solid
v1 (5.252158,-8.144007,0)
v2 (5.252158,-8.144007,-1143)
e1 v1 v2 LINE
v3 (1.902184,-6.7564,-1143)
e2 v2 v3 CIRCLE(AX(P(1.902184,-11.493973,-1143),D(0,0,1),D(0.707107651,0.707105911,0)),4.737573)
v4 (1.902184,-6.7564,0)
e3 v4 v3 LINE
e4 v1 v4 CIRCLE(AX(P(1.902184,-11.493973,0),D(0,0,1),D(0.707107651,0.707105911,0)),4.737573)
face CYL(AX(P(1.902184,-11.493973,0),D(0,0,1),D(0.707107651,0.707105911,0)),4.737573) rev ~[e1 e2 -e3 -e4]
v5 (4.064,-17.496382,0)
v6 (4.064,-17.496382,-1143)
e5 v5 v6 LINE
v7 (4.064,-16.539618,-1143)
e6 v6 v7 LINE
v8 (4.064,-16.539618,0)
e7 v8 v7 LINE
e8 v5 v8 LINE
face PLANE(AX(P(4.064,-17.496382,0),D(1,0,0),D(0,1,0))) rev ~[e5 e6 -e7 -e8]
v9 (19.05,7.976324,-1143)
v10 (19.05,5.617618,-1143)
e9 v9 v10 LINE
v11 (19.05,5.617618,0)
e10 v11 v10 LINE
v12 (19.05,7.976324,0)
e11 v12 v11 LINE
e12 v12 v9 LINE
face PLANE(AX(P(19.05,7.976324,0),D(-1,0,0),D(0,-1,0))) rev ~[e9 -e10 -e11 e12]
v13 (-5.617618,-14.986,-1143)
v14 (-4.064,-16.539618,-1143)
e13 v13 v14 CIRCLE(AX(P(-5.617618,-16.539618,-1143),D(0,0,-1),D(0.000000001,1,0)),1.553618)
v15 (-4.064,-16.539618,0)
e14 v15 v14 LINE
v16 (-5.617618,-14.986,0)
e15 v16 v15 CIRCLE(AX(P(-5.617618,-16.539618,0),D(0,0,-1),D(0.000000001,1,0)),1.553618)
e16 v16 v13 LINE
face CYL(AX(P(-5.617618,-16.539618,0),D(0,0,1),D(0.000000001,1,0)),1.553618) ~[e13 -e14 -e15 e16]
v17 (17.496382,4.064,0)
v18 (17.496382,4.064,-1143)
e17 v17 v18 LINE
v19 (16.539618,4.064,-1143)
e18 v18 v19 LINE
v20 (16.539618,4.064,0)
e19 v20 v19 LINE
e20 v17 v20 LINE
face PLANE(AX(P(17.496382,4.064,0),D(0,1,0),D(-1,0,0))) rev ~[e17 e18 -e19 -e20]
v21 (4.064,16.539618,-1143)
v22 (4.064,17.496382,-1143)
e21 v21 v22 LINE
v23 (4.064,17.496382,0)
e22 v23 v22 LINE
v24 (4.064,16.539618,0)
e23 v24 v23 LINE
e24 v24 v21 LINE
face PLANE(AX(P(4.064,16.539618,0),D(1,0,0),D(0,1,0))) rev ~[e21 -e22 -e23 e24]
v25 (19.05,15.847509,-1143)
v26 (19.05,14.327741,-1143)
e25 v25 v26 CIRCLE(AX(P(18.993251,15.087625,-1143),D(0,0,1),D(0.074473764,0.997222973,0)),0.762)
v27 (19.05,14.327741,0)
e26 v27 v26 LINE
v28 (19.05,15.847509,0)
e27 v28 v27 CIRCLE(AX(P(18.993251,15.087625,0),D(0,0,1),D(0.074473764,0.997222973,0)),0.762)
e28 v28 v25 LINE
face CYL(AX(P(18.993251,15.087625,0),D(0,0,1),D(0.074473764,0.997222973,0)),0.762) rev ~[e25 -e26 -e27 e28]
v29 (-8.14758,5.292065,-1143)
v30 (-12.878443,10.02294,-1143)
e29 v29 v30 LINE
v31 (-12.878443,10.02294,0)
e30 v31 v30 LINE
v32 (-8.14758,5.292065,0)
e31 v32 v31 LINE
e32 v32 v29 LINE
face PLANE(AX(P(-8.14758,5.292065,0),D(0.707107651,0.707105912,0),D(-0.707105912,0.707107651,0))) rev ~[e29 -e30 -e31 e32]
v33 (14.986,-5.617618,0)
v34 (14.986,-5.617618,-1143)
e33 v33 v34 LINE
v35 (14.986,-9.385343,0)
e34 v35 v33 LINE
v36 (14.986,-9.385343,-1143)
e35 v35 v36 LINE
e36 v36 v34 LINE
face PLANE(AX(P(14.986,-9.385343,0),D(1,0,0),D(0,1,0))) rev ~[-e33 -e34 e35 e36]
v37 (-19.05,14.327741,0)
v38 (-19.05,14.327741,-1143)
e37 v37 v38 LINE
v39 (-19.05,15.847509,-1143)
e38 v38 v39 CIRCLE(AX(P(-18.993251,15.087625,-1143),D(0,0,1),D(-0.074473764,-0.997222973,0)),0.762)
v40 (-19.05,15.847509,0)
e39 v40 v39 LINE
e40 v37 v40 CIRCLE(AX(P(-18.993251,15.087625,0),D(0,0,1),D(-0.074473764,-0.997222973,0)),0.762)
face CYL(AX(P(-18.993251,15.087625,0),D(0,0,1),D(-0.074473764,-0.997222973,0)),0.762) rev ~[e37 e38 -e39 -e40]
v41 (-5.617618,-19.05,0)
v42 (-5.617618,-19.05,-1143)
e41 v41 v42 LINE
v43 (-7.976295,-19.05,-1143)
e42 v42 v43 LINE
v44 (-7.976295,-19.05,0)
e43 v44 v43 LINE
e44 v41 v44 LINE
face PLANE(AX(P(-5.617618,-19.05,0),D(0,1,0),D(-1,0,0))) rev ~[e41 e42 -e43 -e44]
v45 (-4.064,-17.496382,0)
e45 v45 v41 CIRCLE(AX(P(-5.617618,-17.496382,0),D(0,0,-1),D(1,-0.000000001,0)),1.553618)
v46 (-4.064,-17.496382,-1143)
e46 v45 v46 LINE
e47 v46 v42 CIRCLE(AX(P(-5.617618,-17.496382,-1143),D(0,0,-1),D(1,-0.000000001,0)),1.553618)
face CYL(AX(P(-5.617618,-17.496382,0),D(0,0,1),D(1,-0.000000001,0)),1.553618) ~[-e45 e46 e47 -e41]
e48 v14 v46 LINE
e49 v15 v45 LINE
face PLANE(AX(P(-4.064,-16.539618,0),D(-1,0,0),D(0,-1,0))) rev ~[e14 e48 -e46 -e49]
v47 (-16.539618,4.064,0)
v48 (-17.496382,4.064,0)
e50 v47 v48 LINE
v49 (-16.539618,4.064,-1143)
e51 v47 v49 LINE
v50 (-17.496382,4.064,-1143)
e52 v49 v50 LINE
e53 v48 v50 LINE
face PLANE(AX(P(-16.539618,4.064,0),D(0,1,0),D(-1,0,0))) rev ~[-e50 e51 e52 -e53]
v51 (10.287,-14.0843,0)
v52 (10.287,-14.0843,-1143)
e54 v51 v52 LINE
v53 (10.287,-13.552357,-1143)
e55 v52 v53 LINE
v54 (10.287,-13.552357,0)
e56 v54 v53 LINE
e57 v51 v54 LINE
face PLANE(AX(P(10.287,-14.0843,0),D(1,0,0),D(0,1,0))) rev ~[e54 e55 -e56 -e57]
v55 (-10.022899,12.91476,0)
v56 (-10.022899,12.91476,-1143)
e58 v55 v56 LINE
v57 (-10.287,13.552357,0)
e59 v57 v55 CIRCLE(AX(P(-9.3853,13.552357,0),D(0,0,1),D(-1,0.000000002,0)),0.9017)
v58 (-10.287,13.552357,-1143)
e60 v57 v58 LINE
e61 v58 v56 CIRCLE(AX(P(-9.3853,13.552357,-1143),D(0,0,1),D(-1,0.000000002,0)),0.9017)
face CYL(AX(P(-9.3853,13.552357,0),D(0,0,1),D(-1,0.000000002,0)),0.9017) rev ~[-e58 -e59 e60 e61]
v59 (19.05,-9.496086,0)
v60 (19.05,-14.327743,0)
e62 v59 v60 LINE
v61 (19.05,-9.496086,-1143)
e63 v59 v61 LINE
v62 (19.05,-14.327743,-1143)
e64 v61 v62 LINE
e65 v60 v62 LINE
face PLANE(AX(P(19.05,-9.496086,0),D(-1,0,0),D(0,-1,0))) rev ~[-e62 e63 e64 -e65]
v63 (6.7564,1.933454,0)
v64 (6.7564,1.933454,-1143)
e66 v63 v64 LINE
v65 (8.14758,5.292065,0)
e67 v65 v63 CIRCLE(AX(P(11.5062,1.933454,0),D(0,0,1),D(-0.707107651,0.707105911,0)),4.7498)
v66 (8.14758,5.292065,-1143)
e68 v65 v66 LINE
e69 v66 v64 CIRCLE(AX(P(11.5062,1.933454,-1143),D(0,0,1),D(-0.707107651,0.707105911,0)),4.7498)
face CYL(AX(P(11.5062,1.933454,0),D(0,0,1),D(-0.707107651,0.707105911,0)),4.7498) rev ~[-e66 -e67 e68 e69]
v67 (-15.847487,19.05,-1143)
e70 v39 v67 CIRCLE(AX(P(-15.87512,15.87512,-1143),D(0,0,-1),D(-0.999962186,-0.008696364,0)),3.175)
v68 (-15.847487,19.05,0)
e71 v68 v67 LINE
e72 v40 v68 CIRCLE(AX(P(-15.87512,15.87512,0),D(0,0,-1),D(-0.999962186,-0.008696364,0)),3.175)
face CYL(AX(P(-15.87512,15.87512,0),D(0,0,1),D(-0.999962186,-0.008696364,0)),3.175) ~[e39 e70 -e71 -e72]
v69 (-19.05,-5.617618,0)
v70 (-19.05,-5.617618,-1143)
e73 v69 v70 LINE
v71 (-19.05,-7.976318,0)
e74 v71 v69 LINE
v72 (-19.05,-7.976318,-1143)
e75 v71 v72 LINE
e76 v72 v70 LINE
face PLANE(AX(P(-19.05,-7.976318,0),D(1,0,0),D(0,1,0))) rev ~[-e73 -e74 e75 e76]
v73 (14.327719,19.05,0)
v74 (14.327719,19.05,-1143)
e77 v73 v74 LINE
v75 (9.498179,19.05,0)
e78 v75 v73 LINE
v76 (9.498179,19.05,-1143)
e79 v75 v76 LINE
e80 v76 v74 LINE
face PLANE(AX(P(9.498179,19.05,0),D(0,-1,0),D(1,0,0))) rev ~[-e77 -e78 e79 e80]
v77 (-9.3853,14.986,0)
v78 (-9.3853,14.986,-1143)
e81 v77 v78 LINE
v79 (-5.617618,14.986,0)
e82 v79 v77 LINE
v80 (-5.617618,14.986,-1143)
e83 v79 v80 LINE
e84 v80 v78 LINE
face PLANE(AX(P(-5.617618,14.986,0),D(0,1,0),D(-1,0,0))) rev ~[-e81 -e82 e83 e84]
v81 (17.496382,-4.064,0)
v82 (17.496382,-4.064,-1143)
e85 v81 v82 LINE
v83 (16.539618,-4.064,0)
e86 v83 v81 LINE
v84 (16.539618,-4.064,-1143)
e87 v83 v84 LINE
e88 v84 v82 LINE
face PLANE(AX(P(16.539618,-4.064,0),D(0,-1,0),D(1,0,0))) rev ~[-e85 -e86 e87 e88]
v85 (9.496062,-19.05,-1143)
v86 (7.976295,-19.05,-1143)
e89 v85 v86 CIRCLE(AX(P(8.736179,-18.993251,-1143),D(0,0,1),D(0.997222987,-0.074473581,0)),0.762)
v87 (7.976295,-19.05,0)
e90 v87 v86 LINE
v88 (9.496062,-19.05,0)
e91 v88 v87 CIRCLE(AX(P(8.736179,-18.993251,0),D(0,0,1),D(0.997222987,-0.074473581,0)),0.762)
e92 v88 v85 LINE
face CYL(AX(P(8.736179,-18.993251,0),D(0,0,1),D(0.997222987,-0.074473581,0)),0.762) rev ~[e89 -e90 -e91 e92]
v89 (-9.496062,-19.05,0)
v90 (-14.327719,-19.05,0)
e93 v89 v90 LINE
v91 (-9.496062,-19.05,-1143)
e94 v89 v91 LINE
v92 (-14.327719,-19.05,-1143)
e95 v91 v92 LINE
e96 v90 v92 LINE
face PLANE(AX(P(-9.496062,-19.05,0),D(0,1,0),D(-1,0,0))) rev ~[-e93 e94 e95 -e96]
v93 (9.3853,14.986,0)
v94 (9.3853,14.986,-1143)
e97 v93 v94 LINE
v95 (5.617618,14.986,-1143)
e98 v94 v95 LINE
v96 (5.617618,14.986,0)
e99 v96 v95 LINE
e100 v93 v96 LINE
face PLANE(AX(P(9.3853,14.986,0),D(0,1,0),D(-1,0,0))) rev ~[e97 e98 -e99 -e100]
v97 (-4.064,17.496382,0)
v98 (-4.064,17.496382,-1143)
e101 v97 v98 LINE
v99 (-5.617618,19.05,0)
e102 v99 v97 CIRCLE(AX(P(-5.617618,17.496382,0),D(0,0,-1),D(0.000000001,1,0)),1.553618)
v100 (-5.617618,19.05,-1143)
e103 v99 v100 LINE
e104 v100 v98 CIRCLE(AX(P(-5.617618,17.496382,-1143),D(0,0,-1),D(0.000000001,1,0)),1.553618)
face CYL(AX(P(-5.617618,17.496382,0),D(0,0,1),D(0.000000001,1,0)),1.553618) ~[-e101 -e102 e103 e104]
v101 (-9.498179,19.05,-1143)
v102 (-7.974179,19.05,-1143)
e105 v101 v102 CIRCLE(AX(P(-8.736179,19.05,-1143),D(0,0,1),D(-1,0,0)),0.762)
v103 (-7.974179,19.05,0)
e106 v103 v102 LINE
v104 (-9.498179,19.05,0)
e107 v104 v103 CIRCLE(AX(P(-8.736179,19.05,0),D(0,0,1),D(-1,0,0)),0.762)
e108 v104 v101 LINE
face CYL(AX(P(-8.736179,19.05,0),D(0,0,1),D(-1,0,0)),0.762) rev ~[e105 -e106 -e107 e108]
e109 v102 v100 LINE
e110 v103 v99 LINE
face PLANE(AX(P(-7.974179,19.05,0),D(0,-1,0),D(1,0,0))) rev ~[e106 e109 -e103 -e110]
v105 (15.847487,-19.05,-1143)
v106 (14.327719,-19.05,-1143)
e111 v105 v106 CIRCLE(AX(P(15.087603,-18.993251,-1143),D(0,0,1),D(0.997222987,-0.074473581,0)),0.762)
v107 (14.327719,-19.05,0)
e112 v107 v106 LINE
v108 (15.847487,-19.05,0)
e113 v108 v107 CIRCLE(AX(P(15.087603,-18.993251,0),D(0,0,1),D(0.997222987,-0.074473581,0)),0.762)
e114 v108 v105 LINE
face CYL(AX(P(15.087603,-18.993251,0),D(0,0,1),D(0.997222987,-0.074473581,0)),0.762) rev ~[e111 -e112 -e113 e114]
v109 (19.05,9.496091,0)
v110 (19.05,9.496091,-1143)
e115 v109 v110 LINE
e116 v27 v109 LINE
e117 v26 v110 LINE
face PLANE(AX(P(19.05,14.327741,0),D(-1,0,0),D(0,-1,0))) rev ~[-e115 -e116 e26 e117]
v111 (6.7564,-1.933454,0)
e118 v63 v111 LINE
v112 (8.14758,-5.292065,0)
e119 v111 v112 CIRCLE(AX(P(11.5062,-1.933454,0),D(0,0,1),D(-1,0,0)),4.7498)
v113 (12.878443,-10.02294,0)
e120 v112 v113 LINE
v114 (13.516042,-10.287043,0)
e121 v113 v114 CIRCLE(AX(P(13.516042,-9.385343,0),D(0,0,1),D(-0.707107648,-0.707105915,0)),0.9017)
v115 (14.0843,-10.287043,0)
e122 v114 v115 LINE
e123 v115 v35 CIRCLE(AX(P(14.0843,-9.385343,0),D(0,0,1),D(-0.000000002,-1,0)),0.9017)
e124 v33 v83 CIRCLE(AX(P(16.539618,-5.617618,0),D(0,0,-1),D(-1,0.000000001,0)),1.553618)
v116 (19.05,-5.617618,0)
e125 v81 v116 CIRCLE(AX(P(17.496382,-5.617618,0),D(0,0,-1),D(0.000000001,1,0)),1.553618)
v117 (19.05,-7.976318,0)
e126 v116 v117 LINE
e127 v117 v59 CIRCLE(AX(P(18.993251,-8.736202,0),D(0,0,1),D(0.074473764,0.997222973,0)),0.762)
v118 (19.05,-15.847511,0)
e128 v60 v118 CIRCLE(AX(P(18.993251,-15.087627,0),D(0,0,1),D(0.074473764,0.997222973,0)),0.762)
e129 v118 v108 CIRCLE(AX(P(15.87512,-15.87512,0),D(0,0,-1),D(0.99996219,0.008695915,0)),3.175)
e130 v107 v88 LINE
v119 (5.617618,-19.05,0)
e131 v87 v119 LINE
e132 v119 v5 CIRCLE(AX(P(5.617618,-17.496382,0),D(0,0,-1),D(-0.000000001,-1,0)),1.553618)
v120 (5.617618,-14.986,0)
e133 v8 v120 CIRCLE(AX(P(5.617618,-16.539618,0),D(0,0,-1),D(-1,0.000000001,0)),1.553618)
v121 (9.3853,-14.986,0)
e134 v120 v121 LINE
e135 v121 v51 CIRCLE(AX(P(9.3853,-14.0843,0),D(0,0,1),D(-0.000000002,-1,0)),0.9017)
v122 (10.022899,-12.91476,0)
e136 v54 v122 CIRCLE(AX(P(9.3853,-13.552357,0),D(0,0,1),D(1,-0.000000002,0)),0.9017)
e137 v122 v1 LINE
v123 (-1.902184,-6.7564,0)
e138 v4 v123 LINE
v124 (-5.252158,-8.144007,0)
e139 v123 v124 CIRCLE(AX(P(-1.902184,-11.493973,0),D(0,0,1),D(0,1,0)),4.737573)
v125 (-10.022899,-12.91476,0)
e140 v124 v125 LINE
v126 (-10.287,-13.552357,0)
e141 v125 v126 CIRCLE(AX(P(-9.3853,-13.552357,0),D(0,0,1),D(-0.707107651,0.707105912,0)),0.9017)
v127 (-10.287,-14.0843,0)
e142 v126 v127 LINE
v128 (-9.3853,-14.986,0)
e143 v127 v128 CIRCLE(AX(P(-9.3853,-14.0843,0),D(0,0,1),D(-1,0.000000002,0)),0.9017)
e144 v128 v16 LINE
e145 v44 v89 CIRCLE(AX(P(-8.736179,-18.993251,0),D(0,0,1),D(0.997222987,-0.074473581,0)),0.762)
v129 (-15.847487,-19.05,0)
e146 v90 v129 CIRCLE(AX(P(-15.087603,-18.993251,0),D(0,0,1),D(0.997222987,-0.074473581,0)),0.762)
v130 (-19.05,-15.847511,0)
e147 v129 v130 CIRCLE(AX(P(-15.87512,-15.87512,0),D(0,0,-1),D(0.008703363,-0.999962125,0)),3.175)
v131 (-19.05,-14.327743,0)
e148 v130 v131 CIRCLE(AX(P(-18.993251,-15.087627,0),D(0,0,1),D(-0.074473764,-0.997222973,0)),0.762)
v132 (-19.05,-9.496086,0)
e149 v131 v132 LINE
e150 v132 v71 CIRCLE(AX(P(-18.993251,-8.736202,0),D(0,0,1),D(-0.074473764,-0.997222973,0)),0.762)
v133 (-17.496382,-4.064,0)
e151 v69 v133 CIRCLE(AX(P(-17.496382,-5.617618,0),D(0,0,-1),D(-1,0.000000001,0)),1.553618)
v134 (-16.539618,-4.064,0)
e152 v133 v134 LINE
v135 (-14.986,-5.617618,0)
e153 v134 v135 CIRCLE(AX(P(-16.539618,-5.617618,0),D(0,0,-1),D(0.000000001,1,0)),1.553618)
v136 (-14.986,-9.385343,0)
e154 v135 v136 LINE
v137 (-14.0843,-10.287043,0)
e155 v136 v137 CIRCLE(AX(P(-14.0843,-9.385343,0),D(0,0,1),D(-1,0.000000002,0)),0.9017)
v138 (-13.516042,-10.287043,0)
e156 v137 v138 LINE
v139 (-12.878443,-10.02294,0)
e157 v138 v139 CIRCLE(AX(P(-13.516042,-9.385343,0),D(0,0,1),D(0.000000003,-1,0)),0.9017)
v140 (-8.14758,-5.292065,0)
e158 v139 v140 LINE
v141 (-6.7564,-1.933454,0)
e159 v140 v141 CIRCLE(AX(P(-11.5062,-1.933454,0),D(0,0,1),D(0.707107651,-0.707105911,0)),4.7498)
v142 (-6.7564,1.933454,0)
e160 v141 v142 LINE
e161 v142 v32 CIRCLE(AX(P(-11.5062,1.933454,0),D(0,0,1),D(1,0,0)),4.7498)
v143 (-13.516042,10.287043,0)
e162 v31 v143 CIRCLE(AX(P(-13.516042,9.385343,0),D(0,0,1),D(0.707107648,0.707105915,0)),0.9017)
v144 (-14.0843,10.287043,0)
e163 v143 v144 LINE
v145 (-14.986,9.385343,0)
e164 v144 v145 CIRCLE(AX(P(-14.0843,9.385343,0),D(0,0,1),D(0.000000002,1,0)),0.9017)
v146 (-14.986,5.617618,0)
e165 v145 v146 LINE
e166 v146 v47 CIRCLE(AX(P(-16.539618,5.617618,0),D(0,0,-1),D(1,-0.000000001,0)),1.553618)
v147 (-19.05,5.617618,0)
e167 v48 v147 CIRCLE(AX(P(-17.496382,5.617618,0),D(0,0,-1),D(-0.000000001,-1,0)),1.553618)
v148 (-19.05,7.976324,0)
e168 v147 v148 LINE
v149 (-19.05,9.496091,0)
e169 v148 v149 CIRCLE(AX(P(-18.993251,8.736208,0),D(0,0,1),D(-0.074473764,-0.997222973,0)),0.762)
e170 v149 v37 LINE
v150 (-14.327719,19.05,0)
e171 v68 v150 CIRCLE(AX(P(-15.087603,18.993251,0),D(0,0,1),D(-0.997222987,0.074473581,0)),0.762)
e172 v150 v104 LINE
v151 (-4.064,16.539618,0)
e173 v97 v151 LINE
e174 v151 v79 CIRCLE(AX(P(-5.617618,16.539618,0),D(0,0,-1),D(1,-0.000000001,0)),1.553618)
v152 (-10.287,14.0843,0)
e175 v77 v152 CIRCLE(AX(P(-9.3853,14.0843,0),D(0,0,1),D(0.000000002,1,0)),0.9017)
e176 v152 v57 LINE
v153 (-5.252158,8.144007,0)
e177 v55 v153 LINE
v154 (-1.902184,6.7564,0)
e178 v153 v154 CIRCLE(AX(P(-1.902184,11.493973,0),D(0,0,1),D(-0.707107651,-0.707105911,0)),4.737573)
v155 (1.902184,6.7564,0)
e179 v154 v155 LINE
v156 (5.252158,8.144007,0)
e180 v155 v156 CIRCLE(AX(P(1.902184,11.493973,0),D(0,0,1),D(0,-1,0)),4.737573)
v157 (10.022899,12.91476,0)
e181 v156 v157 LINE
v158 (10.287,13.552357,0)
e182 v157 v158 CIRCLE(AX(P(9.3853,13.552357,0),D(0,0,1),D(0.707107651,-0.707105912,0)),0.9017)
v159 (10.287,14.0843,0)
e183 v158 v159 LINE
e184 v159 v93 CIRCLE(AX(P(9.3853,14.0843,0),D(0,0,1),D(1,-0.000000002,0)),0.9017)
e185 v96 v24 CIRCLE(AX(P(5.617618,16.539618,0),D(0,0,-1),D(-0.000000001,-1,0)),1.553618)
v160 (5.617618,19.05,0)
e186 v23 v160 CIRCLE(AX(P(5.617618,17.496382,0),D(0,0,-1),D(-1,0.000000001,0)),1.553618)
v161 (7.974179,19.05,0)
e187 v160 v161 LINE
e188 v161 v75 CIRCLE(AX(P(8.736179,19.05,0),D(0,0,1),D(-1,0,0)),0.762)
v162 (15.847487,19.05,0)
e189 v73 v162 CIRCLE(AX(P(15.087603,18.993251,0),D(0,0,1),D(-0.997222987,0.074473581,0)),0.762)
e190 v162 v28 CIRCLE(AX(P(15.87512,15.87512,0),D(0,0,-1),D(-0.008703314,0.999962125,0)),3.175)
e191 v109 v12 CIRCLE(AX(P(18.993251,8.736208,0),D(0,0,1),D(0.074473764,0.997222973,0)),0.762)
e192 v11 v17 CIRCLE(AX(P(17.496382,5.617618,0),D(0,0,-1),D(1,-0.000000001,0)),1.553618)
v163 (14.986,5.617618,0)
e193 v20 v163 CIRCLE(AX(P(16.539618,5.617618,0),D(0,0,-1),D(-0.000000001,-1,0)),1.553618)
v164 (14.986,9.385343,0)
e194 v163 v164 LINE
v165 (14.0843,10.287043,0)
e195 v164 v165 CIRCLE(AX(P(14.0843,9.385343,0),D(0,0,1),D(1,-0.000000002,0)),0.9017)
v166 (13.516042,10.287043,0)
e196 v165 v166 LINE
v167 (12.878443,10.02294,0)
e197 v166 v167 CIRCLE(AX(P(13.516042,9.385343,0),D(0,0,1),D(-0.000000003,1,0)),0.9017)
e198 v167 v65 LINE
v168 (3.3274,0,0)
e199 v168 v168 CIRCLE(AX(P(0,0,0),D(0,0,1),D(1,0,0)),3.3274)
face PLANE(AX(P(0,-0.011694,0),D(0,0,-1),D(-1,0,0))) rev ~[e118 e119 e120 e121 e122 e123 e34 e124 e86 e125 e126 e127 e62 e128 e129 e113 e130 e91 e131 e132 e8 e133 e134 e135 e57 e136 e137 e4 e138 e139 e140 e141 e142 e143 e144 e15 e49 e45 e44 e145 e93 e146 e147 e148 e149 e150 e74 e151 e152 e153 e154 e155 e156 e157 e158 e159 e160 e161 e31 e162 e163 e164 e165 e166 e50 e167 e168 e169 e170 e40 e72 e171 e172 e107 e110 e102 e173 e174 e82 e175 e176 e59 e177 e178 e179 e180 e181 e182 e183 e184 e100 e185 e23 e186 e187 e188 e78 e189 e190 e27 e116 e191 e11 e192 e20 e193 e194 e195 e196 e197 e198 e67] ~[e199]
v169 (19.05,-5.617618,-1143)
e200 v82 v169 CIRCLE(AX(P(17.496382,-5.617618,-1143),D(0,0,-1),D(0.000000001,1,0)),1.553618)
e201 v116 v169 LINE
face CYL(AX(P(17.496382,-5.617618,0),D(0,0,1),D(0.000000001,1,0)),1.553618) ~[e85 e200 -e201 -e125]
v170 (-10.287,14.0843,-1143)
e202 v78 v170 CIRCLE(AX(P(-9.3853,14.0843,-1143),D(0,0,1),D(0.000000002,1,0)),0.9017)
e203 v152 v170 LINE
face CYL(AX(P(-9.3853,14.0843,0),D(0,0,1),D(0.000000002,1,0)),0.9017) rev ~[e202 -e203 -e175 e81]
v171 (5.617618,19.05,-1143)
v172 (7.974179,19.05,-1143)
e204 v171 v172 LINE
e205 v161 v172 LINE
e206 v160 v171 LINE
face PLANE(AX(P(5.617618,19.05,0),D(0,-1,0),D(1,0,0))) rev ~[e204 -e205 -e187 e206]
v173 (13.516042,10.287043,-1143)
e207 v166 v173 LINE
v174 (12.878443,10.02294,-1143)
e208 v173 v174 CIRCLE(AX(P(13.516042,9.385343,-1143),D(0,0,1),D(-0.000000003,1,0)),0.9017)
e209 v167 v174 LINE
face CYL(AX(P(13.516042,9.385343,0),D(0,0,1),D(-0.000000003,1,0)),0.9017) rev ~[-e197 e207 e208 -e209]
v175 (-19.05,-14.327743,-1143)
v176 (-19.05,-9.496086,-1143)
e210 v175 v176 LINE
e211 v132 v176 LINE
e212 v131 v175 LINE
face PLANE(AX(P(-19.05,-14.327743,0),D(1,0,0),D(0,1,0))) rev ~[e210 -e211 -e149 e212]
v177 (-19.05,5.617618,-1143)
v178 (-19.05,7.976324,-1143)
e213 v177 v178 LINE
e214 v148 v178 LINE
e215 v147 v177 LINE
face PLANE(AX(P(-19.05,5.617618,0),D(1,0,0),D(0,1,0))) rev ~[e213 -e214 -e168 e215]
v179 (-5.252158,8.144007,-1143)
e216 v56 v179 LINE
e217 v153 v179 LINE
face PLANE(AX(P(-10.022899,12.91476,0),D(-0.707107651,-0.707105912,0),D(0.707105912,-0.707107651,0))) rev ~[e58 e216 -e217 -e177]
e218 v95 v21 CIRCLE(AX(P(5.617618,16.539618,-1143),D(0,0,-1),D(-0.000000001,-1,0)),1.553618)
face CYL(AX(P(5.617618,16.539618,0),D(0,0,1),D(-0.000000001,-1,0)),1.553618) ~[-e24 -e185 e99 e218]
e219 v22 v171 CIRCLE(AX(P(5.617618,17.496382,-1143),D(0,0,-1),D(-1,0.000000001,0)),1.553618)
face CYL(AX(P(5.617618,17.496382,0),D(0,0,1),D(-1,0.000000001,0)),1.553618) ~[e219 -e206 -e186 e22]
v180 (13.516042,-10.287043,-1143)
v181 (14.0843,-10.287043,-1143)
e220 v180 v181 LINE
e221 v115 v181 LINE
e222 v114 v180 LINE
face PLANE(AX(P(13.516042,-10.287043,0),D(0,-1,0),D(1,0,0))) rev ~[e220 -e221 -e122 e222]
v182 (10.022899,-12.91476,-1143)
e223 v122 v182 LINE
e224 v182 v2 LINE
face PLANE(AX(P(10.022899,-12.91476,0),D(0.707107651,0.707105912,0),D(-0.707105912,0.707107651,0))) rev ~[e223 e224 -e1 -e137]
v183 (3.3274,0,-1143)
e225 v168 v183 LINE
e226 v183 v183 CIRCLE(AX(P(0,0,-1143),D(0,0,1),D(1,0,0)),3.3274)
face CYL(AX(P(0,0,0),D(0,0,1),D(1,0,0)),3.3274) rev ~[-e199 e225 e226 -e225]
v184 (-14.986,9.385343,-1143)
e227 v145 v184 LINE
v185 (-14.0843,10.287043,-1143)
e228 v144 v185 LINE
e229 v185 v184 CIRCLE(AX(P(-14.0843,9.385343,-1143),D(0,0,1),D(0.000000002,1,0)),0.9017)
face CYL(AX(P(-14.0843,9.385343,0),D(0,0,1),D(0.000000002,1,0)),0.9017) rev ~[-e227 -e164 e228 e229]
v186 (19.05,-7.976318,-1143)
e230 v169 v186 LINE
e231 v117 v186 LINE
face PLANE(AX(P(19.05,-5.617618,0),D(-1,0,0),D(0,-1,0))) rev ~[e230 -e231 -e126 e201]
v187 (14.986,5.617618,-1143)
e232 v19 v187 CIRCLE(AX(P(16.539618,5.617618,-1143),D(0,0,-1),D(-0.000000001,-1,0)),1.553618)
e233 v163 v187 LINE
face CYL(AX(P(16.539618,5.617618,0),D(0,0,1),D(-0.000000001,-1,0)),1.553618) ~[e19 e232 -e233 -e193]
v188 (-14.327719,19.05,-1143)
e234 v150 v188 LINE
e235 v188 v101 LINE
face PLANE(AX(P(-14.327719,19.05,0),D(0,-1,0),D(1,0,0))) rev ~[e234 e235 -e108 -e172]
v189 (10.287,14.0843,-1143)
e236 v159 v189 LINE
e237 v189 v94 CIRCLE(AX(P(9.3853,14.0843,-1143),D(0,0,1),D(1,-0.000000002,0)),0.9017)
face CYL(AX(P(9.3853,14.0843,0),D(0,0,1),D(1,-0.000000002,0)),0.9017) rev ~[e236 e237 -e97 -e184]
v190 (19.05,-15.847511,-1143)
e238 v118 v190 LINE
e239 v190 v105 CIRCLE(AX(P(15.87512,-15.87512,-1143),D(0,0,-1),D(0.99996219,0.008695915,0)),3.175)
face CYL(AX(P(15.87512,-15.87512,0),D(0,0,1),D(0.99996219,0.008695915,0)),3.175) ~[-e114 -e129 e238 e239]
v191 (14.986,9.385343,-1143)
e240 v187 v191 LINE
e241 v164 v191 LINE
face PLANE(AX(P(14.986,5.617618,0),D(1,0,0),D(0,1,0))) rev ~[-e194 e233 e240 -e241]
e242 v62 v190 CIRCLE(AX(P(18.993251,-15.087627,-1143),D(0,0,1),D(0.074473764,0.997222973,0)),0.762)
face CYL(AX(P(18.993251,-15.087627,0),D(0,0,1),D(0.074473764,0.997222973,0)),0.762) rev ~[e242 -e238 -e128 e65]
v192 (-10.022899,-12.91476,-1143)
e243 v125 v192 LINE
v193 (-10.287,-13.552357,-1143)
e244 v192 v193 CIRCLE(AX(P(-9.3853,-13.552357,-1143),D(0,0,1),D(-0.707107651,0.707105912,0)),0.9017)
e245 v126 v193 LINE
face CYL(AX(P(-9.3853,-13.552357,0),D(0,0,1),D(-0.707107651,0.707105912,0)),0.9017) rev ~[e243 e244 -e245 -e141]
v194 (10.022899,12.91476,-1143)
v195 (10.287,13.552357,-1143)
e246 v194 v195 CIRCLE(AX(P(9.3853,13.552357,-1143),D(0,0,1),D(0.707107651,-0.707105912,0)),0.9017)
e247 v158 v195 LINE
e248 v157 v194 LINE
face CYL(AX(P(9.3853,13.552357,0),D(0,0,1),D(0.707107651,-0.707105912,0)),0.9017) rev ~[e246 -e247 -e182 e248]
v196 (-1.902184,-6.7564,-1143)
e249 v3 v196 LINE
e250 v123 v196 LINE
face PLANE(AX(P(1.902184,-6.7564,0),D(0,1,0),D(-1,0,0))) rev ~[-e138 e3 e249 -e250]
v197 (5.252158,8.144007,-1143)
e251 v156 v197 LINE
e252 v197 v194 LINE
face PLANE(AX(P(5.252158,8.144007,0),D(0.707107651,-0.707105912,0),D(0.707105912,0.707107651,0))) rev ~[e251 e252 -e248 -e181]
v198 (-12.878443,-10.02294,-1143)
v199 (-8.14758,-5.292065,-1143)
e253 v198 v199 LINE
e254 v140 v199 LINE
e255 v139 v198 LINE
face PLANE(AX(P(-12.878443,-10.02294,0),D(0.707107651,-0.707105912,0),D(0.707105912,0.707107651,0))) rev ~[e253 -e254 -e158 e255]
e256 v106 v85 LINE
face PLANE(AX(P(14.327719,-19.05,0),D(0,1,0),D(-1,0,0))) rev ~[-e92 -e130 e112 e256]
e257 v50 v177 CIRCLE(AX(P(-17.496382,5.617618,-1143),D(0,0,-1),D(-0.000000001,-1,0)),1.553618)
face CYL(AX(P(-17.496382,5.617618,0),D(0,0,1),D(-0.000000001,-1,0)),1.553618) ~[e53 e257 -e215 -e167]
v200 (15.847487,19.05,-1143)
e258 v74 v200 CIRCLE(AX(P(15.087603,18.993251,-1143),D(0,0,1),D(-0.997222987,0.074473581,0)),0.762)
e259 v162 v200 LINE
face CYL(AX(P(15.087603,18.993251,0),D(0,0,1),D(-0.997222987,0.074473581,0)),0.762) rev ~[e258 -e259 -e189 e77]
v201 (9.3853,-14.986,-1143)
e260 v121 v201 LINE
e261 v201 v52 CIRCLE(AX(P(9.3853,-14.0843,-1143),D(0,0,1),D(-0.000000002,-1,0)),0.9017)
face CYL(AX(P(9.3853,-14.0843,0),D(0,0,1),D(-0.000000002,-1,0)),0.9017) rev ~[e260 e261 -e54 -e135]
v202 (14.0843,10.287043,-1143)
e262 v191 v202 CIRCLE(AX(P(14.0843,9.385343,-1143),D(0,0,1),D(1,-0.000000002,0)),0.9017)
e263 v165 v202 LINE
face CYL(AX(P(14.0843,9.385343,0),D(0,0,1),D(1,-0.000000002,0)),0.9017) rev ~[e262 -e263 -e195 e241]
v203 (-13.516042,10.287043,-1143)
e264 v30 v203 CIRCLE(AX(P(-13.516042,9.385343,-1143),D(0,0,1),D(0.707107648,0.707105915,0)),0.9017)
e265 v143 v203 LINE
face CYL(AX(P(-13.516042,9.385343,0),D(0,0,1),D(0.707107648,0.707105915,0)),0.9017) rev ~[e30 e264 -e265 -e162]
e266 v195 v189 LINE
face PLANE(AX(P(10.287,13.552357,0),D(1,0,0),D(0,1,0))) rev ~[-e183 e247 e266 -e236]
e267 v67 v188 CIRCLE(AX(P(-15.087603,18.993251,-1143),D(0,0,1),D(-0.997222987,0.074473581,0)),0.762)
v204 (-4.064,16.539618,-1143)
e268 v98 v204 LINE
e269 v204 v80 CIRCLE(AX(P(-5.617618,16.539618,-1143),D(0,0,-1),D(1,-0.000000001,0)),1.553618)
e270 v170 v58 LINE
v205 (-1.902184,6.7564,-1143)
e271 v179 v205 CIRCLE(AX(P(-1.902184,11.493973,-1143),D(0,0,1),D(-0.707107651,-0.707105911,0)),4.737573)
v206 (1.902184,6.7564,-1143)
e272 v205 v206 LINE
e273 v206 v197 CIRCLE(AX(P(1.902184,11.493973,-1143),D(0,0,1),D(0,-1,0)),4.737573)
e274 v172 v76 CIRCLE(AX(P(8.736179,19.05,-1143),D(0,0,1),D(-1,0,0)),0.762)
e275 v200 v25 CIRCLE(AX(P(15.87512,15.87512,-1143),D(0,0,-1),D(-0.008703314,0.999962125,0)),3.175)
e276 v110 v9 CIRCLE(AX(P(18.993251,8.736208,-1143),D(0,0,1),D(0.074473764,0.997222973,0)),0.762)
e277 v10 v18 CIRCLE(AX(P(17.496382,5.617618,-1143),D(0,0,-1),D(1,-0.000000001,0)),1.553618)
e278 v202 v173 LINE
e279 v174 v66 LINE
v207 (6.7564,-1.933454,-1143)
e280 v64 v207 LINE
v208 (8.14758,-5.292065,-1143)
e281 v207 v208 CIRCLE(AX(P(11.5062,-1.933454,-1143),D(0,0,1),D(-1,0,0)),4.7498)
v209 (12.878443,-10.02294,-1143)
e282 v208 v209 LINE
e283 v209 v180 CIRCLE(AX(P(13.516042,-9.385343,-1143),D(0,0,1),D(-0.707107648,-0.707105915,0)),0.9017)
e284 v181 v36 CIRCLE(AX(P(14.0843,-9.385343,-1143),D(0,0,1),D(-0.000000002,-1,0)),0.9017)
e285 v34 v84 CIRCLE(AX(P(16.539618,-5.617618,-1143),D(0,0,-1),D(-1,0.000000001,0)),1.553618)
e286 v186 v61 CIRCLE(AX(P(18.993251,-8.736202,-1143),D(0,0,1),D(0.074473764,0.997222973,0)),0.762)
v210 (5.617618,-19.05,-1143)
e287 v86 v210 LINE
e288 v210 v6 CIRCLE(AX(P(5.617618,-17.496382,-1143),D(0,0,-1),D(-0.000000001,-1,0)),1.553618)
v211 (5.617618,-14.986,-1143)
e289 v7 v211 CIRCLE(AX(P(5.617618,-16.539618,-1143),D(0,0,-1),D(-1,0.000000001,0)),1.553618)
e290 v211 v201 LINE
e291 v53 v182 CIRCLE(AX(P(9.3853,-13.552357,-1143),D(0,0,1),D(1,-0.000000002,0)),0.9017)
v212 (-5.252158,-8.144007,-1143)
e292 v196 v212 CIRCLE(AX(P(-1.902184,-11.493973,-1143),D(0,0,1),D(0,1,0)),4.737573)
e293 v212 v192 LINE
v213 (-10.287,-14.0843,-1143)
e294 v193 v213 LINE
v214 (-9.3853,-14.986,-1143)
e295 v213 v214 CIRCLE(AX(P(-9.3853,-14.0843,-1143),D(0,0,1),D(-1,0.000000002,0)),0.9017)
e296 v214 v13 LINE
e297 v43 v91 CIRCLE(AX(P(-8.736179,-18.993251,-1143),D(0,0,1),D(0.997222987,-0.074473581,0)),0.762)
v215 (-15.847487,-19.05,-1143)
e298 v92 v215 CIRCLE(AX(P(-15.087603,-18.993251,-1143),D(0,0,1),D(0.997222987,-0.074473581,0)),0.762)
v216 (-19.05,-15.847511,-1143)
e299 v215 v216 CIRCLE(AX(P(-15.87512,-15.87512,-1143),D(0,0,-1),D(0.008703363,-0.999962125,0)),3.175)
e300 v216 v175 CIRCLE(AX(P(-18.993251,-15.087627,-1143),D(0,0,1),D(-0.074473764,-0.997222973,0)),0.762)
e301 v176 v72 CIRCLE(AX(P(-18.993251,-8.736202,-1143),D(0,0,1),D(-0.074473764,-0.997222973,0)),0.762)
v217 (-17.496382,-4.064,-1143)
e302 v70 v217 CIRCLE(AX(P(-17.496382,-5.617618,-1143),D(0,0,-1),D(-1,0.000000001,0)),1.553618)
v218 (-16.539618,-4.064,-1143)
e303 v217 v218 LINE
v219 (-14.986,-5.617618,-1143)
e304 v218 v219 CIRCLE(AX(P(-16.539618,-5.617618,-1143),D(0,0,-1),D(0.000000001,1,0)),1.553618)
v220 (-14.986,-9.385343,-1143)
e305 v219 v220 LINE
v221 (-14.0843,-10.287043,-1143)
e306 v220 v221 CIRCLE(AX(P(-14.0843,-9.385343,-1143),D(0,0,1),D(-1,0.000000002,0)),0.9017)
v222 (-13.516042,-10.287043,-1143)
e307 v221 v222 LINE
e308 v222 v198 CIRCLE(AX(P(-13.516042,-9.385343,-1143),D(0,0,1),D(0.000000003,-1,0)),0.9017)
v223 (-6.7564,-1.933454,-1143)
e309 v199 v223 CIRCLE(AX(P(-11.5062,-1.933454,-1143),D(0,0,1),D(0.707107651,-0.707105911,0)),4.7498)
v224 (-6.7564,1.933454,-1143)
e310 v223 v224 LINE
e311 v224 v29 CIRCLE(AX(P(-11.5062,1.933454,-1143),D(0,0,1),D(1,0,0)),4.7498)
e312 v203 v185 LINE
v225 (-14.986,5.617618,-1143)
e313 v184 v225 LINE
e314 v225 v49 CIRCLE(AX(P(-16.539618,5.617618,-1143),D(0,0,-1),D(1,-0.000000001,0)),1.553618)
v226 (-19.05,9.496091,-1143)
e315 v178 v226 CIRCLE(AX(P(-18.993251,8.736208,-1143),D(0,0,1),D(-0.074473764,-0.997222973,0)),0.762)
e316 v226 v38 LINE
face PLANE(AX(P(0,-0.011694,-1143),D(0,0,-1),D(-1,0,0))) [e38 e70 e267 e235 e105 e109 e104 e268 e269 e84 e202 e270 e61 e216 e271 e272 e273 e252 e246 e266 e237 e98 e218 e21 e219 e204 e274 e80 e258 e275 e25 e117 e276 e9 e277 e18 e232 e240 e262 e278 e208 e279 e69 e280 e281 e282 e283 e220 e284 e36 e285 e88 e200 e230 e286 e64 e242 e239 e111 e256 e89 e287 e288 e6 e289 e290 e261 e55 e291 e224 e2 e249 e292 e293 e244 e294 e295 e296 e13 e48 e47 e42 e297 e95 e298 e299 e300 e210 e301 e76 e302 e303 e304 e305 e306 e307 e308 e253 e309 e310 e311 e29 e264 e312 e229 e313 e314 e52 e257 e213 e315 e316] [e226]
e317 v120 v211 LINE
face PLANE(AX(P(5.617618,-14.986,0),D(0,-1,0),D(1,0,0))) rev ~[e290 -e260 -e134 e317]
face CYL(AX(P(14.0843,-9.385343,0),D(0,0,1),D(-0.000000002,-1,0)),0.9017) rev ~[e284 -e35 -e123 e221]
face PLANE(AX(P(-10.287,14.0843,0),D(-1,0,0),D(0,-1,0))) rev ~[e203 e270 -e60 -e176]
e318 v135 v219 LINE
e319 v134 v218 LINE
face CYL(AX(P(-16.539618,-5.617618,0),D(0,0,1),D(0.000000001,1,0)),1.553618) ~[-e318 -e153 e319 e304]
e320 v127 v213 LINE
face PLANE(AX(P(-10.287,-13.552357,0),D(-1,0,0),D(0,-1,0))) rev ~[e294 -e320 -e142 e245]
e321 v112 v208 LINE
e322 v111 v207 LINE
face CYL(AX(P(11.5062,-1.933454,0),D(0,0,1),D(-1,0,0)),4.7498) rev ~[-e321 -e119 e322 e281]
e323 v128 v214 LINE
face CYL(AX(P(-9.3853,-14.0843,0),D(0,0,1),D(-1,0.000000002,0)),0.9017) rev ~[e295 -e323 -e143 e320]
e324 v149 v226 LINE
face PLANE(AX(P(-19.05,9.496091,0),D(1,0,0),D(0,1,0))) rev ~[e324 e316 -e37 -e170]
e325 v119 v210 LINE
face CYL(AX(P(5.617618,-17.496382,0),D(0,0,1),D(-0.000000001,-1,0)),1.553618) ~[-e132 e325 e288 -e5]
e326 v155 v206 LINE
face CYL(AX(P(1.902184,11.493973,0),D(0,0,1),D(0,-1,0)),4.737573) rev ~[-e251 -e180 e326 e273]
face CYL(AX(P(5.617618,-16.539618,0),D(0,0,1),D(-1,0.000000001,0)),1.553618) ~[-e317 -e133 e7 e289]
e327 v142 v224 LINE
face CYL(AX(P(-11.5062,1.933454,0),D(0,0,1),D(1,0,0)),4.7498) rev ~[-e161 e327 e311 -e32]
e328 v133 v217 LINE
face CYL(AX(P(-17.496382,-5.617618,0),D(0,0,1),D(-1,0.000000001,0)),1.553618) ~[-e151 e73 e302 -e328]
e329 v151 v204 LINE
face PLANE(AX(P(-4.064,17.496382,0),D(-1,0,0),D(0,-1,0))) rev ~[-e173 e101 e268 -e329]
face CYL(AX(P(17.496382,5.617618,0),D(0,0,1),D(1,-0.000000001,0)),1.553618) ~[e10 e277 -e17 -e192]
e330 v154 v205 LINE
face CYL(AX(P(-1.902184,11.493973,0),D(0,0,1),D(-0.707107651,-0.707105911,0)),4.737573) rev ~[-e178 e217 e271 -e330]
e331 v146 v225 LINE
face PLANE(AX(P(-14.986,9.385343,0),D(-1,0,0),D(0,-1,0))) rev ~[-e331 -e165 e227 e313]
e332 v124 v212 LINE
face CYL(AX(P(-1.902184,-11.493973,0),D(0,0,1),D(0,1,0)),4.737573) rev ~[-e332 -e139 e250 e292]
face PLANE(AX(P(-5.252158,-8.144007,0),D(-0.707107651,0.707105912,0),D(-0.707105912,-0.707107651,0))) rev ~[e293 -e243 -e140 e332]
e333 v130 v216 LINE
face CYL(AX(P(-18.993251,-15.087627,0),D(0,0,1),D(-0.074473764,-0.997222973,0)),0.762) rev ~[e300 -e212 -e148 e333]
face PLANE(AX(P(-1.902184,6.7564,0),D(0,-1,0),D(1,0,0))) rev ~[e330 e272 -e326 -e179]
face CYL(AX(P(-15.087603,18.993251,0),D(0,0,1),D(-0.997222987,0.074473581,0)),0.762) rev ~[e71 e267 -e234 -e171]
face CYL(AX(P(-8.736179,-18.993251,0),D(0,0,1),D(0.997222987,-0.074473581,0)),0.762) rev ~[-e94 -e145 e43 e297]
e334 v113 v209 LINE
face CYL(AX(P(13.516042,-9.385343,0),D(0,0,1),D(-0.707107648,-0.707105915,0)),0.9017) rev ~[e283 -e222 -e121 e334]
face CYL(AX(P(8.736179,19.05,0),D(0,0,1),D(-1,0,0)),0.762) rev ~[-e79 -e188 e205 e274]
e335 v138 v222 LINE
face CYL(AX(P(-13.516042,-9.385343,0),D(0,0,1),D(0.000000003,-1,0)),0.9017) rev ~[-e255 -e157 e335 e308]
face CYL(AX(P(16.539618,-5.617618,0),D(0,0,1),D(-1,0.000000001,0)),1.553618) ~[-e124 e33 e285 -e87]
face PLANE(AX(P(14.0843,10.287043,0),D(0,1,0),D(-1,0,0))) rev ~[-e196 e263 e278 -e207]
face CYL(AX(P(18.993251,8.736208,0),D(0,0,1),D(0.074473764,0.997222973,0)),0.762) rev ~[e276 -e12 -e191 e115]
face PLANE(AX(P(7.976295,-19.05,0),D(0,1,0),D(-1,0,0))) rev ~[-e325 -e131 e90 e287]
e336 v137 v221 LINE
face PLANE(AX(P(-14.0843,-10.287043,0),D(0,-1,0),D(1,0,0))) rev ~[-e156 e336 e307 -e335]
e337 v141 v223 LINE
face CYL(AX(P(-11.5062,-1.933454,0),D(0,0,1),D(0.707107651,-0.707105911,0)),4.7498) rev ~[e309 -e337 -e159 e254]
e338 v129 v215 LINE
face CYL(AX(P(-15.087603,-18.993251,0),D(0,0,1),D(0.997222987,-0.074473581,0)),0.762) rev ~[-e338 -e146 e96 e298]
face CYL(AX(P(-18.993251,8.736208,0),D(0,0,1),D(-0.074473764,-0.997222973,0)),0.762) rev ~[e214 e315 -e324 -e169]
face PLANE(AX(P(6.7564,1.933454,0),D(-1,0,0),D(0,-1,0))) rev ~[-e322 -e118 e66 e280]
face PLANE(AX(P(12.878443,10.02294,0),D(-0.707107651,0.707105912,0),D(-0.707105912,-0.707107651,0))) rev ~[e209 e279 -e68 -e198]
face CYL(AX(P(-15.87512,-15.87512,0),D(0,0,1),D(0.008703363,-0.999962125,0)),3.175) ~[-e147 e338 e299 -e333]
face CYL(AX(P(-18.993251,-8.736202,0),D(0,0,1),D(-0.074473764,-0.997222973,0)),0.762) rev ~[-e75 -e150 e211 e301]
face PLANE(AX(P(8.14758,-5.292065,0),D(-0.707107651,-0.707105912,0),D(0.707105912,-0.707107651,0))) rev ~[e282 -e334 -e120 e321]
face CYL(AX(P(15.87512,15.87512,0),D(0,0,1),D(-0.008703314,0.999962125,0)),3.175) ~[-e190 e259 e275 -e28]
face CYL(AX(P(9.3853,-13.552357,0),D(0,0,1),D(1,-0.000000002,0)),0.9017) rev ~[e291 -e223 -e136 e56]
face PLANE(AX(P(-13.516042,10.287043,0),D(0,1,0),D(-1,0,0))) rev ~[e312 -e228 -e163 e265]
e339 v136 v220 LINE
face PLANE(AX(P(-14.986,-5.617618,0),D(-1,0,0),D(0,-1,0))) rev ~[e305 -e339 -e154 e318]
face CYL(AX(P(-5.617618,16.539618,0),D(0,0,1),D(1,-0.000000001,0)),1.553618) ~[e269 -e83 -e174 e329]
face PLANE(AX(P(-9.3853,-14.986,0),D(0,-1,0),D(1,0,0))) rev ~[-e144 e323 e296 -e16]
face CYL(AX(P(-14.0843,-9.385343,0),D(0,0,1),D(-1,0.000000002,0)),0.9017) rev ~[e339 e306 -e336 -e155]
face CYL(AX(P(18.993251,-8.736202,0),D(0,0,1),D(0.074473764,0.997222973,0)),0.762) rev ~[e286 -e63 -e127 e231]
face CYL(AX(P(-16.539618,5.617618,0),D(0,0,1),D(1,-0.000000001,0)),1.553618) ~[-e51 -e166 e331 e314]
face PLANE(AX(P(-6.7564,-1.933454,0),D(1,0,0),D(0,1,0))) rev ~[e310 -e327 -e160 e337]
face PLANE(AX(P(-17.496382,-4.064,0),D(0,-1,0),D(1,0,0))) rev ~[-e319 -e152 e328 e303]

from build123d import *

# Parameters (mm, degrees)
SKETCH1_R      = 3.3274
EXTRUDE1_DEPTH = 1143


with BuildPart() as part:
    # Sketch1 → Extrude1 (new body)
    with BuildSketch(Plane.XY):
        with BuildLine():
            Line((-10.022898969, 12.91475973), (-5.252158105, 8.144007132))
            ThreePointArc((-5.252158105, 8.144007132), (-3.715177372, 7.117027388), (-1.902183975, 6.7564))
            Line((-1.902183975, 6.7564), (1.902183975, 6.7564))
            ThreePointArc((1.902183975, 6.7564), (3.715177372, 7.117027388), (5.252158105, 8.144007132))
            Line((5.252158105, 8.144007132), (10.022898969, 12.91475973))
            ThreePointArc((10.022898969, 12.91475973), (10.218362387, 13.207291992), (10.287, 13.552357131))
            Line((10.287, 13.552357131), (10.287, 14.0843))
            ThreePointArc((10.287, 14.0843), (10.022898185, 14.721898185), (9.3853, 14.986))
            Line((9.3853, 14.986), (5.617617549, 14.986))
            ThreePointArc((5.617617549, 14.986), (4.519044045, 15.441044045), (4.064, 16.539617549))
            Line((4.064, 16.539617549), (4.064, 17.496382451))
            ThreePointArc((4.064, 17.496382451), (4.519044045, 18.594955955), (5.617617549, 19.05))
            Line((5.617617549, 19.05), (7.974178704, 19.05))
            ThreePointArc((7.974178704, 19.05), (8.736178704, 18.288), (9.498178704, 19.05))
            Line((9.498178704, 19.05), (14.327719207, 19.05))
            ThreePointArc((14.327719207, 19.05), (15.087603123, 18.231251131), (15.847487039, 19.05))
            ThreePointArc((15.847487039, 19.05), (18.120176289, 18.120192083), (19.05, 15.847509295))
            ThreePointArc((19.05, 15.847509295), (18.231250992, 15.08762539), (19.05, 14.327741484))
            Line((19.05, 14.327741484), (19.05, 9.496091471))
            ThreePointArc((19.05, 9.496091471), (18.231250992, 8.736207565), (19.05, 7.97632366))
            Line((19.05, 7.97632366), (19.05, 5.617617549))
            ThreePointArc((19.05, 5.617617549), (18.594955955, 4.519044045), (17.496382451, 4.064))
            Line((17.496382451, 4.064), (16.539617549, 4.064))
            ThreePointArc((16.539617549, 4.064), (15.441044045, 4.519044045), (14.986, 5.617617549))
            Line((14.986, 5.617617549), (14.986, 9.385342516))
            ThreePointArc((14.986, 9.385342516), (14.721898185, 10.022940701), (14.0843, 10.287042516))
            Line((14.0843, 10.287042516), (13.516042086, 10.287042516))
            ThreePointArc((13.516042086, 10.287042516), (13.170975923, 10.218404478), (12.878443117, 10.022939917))
            Line((12.878443117, 10.022939917), (8.14758008, 5.292065243))
            ThreePointArc((8.14758008, 5.292065243), (7.117955879, 3.751120653), (6.7564, 1.933453584))
            Line((6.7564, 1.933453584), (6.7564, -1.933453584))
            ThreePointArc((6.7564, -1.933453584), (7.117955879, -3.751120653), (8.14758008, -5.292065243))
            Line((8.14758008, -5.292065243), (12.878443117, -10.022939917))
            ThreePointArc((12.878443117, -10.022939917), (13.170975923, -10.218404478), (13.516042086, -10.287042516))
            Line((13.516042086, -10.287042516), (14.0843, -10.287042516))
            ThreePointArc((14.0843, -10.287042516), (14.721898185, -10.022940701), (14.986, -9.385342516))
            Line((14.986, -9.385342516), (14.986, -5.617617549))
            ThreePointArc((14.986, -5.617617549), (15.441044045, -4.519044045), (16.539617549, -4.064))
            Line((16.539617549, -4.064), (17.496382451, -4.064))
            ThreePointArc((17.496382451, -4.064), (18.594955955, -4.519044045), (19.05, -5.617617549))
            Line((19.05, -5.617617549), (19.05, -7.976318491))
            ThreePointArc((19.05, -7.976318491), (18.231250992, -8.736202396), (19.05, -9.496086302))
            Line((19.05, -9.496086302), (19.05, -14.32774291))
            ThreePointArc((19.05, -14.32774291), (18.231250992, -15.087626816), (19.05, -15.847510721))
            ThreePointArc((19.05, -15.847510721), (18.120175716, -18.120192644), (15.847486868, -19.05))
            ThreePointArc((15.847486868, -19.05), (15.087602952, -18.231251131), (14.327719036, -19.05))
            Line((14.327719036, -19.05), (9.496062448, -19.05))
            ThreePointArc((9.496062448, -19.05), (8.736178532, -18.231251131), (7.976294616, -19.05))
            Line((7.976294616, -19.05), (5.617617549, -19.05))
            ThreePointArc((5.617617549, -19.05), (4.519044045, -18.594955955), (4.064, -17.496382451))
            Line((4.064, -17.496382451), (4.064, -16.539617549))
            ThreePointArc((4.064, -16.539617549), (4.519044045, -15.441044045), (5.617617549, -14.986))
            Line((5.617617549, -14.986), (9.3853, -14.986))
            ThreePointArc((9.3853, -14.986), (10.022898185, -14.721898185), (10.287, -14.0843))
            Line((10.287, -14.0843), (10.287, -13.552357131))
            ThreePointArc((10.287, -13.552357131), (10.218362387, -13.207291992), (10.022898969, -12.91475973))
            Line((10.022898969, -12.91475973), (5.252158105, -8.144007132))
            ThreePointArc((5.252158105, -8.144007132), (3.715177372, -7.117027388), (1.902183975, -6.7564))
            Line((1.902183975, -6.7564), (-1.902183975, -6.7564))
            ThreePointArc((-1.902183975, -6.7564), (-3.715177372, -7.117027388), (-5.252158105, -8.144007132))
            Line((-5.252158105, -8.144007132), (-10.022898969, -12.91475973))
            ThreePointArc((-10.022898969, -12.91475973), (-10.218362387, -13.207291992), (-10.287, -13.552357131))
            Line((-10.287, -13.552357131), (-10.287, -14.0843))
            ThreePointArc((-10.287, -14.0843), (-10.022898185, -14.721898185), (-9.3853, -14.986))
            Line((-9.3853, -14.986), (-5.617617549, -14.986))
            ThreePointArc((-5.617617549, -14.986), (-4.519044045, -15.441044045), (-4.064, -16.539617549))
            Line((-4.064, -16.539617549), (-4.064, -17.496382451))
            ThreePointArc((-4.064, -17.496382451), (-4.519044045, -18.594955955), (-5.617617549, -19.05))
            Line((-5.617617549, -19.05), (-7.976294616, -19.05))
            ThreePointArc((-7.976294616, -19.05), (-8.736178532, -18.231251131), (-9.496062448, -19.05))
            Line((-9.496062448, -19.05), (-14.327719036, -19.05))
            ThreePointArc((-14.327719036, -19.05), (-15.087602952, -18.231251131), (-15.847486868, -19.05))
            ThreePointArc((-15.847486868, -19.05), (-18.120175716, -18.120192644), (-19.05, -15.847510721))
            ThreePointArc((-19.05, -15.847510721), (-18.231250992, -15.087626816), (-19.05, -14.32774291))
            Line((-19.05, -14.32774291), (-19.05, -9.496086302))
            ThreePointArc((-19.05, -9.496086302), (-18.231250992, -8.736202396), (-19.05, -7.976318491))
            Line((-19.05, -7.976318491), (-19.05, -5.617617549))
            ThreePointArc((-19.05, -5.617617549), (-18.594955955, -4.519044045), (-17.496382451, -4.064))
            Line((-17.496382451, -4.064), (-16.539617549, -4.064))
            ThreePointArc((-16.539617549, -4.064), (-15.441044045, -4.519044045), (-14.986, -5.617617549))
            Line((-14.986, -5.617617549), (-14.986, -9.385342516))
            ThreePointArc((-14.986, -9.385342516), (-14.721898185, -10.022940701), (-14.0843, -10.287042516))
            Line((-14.0843, -10.287042516), (-13.516042086, -10.287042516))
            ThreePointArc((-13.516042086, -10.287042516), (-13.170975923, -10.218404478), (-12.878443117, -10.022939917))
            Line((-12.878443117, -10.022939917), (-8.14758008, -5.292065243))
            ThreePointArc((-8.14758008, -5.292065243), (-7.117955879, -3.751120653), (-6.7564, -1.933453584))
            Line((-6.7564, -1.933453584), (-6.7564, 1.933453584))
            ThreePointArc((-6.7564, 1.933453584), (-7.117955879, 3.751120653), (-8.14758008, 5.292065243))
            Line((-8.14758008, 5.292065243), (-12.878443117, 10.022939917))
            ThreePointArc((-12.878443117, 10.022939917), (-13.170975923, 10.218404478), (-13.516042086, 10.287042516))
            Line((-13.516042086, 10.287042516), (-14.0843, 10.287042516))
            ThreePointArc((-14.0843, 10.287042516), (-14.721898185, 10.022940701), (-14.986, 9.385342516))
            Line((-14.986, 9.385342516), (-14.986, 5.617617549))
            ThreePointArc((-14.986, 5.617617549), (-15.441044045, 4.519044045), (-16.539617549, 4.064))
            Line((-16.539617549, 4.064), (-17.496382451, 4.064))
            ThreePointArc((-17.496382451, 4.064), (-18.594955955, 4.519044045), (-19.05, 5.617617549))
            Line((-19.05, 5.617617549), (-19.05, 7.97632366))
            ThreePointArc((-19.05, 7.97632366), (-18.231250992, 8.736207565), (-19.05, 9.496091471))
            Line((-19.05, 9.496091471), (-19.05, 14.327741484))
            ThreePointArc((-19.05, 14.327741484), (-18.231250992, 15.08762539), (-19.05, 15.847509295))
            ThreePointArc((-19.05, 15.847509295), (-18.120176289, 18.120192083), (-15.847487039, 19.05))
            ThreePointArc((-15.847487039, 19.05), (-15.087603123, 18.231251131), (-14.327719207, 19.05))
            Line((-14.327719207, 19.05), (-9.498178704, 19.05))
            ThreePointArc((-9.498178704, 19.05), (-8.736178704, 18.288), (-7.974178704, 19.05))
            Line((-7.974178704, 19.05), (-5.617617549, 19.05))
            ThreePointArc((-5.617617549, 19.05), (-4.519044045, 18.594955955), (-4.064, 17.496382451))
            Line((-4.064, 17.496382451), (-4.064, 16.539617549))
            ThreePointArc((-4.064, 16.539617549), (-4.519044045, 15.441044045), (-5.617617549, 14.986))
            Line((-5.617617549, 14.986), (-9.3853, 14.986))
            ThreePointArc((-9.3853, 14.986), (-10.022898185, 14.721898185), (-10.287, 14.0843))
            Line((-10.287, 14.0843), (-10.287, 13.552357131))
            ThreePointArc((-10.287, 13.552357131), (-10.218362387, 13.207291992), (-10.022898969, 12.91475973))
        make_face()
        Circle(SKETCH1_R, mode=Mode.SUBTRACT)
    extrude(amount=-EXTRUDE1_DEPTH)


solid = part.part
